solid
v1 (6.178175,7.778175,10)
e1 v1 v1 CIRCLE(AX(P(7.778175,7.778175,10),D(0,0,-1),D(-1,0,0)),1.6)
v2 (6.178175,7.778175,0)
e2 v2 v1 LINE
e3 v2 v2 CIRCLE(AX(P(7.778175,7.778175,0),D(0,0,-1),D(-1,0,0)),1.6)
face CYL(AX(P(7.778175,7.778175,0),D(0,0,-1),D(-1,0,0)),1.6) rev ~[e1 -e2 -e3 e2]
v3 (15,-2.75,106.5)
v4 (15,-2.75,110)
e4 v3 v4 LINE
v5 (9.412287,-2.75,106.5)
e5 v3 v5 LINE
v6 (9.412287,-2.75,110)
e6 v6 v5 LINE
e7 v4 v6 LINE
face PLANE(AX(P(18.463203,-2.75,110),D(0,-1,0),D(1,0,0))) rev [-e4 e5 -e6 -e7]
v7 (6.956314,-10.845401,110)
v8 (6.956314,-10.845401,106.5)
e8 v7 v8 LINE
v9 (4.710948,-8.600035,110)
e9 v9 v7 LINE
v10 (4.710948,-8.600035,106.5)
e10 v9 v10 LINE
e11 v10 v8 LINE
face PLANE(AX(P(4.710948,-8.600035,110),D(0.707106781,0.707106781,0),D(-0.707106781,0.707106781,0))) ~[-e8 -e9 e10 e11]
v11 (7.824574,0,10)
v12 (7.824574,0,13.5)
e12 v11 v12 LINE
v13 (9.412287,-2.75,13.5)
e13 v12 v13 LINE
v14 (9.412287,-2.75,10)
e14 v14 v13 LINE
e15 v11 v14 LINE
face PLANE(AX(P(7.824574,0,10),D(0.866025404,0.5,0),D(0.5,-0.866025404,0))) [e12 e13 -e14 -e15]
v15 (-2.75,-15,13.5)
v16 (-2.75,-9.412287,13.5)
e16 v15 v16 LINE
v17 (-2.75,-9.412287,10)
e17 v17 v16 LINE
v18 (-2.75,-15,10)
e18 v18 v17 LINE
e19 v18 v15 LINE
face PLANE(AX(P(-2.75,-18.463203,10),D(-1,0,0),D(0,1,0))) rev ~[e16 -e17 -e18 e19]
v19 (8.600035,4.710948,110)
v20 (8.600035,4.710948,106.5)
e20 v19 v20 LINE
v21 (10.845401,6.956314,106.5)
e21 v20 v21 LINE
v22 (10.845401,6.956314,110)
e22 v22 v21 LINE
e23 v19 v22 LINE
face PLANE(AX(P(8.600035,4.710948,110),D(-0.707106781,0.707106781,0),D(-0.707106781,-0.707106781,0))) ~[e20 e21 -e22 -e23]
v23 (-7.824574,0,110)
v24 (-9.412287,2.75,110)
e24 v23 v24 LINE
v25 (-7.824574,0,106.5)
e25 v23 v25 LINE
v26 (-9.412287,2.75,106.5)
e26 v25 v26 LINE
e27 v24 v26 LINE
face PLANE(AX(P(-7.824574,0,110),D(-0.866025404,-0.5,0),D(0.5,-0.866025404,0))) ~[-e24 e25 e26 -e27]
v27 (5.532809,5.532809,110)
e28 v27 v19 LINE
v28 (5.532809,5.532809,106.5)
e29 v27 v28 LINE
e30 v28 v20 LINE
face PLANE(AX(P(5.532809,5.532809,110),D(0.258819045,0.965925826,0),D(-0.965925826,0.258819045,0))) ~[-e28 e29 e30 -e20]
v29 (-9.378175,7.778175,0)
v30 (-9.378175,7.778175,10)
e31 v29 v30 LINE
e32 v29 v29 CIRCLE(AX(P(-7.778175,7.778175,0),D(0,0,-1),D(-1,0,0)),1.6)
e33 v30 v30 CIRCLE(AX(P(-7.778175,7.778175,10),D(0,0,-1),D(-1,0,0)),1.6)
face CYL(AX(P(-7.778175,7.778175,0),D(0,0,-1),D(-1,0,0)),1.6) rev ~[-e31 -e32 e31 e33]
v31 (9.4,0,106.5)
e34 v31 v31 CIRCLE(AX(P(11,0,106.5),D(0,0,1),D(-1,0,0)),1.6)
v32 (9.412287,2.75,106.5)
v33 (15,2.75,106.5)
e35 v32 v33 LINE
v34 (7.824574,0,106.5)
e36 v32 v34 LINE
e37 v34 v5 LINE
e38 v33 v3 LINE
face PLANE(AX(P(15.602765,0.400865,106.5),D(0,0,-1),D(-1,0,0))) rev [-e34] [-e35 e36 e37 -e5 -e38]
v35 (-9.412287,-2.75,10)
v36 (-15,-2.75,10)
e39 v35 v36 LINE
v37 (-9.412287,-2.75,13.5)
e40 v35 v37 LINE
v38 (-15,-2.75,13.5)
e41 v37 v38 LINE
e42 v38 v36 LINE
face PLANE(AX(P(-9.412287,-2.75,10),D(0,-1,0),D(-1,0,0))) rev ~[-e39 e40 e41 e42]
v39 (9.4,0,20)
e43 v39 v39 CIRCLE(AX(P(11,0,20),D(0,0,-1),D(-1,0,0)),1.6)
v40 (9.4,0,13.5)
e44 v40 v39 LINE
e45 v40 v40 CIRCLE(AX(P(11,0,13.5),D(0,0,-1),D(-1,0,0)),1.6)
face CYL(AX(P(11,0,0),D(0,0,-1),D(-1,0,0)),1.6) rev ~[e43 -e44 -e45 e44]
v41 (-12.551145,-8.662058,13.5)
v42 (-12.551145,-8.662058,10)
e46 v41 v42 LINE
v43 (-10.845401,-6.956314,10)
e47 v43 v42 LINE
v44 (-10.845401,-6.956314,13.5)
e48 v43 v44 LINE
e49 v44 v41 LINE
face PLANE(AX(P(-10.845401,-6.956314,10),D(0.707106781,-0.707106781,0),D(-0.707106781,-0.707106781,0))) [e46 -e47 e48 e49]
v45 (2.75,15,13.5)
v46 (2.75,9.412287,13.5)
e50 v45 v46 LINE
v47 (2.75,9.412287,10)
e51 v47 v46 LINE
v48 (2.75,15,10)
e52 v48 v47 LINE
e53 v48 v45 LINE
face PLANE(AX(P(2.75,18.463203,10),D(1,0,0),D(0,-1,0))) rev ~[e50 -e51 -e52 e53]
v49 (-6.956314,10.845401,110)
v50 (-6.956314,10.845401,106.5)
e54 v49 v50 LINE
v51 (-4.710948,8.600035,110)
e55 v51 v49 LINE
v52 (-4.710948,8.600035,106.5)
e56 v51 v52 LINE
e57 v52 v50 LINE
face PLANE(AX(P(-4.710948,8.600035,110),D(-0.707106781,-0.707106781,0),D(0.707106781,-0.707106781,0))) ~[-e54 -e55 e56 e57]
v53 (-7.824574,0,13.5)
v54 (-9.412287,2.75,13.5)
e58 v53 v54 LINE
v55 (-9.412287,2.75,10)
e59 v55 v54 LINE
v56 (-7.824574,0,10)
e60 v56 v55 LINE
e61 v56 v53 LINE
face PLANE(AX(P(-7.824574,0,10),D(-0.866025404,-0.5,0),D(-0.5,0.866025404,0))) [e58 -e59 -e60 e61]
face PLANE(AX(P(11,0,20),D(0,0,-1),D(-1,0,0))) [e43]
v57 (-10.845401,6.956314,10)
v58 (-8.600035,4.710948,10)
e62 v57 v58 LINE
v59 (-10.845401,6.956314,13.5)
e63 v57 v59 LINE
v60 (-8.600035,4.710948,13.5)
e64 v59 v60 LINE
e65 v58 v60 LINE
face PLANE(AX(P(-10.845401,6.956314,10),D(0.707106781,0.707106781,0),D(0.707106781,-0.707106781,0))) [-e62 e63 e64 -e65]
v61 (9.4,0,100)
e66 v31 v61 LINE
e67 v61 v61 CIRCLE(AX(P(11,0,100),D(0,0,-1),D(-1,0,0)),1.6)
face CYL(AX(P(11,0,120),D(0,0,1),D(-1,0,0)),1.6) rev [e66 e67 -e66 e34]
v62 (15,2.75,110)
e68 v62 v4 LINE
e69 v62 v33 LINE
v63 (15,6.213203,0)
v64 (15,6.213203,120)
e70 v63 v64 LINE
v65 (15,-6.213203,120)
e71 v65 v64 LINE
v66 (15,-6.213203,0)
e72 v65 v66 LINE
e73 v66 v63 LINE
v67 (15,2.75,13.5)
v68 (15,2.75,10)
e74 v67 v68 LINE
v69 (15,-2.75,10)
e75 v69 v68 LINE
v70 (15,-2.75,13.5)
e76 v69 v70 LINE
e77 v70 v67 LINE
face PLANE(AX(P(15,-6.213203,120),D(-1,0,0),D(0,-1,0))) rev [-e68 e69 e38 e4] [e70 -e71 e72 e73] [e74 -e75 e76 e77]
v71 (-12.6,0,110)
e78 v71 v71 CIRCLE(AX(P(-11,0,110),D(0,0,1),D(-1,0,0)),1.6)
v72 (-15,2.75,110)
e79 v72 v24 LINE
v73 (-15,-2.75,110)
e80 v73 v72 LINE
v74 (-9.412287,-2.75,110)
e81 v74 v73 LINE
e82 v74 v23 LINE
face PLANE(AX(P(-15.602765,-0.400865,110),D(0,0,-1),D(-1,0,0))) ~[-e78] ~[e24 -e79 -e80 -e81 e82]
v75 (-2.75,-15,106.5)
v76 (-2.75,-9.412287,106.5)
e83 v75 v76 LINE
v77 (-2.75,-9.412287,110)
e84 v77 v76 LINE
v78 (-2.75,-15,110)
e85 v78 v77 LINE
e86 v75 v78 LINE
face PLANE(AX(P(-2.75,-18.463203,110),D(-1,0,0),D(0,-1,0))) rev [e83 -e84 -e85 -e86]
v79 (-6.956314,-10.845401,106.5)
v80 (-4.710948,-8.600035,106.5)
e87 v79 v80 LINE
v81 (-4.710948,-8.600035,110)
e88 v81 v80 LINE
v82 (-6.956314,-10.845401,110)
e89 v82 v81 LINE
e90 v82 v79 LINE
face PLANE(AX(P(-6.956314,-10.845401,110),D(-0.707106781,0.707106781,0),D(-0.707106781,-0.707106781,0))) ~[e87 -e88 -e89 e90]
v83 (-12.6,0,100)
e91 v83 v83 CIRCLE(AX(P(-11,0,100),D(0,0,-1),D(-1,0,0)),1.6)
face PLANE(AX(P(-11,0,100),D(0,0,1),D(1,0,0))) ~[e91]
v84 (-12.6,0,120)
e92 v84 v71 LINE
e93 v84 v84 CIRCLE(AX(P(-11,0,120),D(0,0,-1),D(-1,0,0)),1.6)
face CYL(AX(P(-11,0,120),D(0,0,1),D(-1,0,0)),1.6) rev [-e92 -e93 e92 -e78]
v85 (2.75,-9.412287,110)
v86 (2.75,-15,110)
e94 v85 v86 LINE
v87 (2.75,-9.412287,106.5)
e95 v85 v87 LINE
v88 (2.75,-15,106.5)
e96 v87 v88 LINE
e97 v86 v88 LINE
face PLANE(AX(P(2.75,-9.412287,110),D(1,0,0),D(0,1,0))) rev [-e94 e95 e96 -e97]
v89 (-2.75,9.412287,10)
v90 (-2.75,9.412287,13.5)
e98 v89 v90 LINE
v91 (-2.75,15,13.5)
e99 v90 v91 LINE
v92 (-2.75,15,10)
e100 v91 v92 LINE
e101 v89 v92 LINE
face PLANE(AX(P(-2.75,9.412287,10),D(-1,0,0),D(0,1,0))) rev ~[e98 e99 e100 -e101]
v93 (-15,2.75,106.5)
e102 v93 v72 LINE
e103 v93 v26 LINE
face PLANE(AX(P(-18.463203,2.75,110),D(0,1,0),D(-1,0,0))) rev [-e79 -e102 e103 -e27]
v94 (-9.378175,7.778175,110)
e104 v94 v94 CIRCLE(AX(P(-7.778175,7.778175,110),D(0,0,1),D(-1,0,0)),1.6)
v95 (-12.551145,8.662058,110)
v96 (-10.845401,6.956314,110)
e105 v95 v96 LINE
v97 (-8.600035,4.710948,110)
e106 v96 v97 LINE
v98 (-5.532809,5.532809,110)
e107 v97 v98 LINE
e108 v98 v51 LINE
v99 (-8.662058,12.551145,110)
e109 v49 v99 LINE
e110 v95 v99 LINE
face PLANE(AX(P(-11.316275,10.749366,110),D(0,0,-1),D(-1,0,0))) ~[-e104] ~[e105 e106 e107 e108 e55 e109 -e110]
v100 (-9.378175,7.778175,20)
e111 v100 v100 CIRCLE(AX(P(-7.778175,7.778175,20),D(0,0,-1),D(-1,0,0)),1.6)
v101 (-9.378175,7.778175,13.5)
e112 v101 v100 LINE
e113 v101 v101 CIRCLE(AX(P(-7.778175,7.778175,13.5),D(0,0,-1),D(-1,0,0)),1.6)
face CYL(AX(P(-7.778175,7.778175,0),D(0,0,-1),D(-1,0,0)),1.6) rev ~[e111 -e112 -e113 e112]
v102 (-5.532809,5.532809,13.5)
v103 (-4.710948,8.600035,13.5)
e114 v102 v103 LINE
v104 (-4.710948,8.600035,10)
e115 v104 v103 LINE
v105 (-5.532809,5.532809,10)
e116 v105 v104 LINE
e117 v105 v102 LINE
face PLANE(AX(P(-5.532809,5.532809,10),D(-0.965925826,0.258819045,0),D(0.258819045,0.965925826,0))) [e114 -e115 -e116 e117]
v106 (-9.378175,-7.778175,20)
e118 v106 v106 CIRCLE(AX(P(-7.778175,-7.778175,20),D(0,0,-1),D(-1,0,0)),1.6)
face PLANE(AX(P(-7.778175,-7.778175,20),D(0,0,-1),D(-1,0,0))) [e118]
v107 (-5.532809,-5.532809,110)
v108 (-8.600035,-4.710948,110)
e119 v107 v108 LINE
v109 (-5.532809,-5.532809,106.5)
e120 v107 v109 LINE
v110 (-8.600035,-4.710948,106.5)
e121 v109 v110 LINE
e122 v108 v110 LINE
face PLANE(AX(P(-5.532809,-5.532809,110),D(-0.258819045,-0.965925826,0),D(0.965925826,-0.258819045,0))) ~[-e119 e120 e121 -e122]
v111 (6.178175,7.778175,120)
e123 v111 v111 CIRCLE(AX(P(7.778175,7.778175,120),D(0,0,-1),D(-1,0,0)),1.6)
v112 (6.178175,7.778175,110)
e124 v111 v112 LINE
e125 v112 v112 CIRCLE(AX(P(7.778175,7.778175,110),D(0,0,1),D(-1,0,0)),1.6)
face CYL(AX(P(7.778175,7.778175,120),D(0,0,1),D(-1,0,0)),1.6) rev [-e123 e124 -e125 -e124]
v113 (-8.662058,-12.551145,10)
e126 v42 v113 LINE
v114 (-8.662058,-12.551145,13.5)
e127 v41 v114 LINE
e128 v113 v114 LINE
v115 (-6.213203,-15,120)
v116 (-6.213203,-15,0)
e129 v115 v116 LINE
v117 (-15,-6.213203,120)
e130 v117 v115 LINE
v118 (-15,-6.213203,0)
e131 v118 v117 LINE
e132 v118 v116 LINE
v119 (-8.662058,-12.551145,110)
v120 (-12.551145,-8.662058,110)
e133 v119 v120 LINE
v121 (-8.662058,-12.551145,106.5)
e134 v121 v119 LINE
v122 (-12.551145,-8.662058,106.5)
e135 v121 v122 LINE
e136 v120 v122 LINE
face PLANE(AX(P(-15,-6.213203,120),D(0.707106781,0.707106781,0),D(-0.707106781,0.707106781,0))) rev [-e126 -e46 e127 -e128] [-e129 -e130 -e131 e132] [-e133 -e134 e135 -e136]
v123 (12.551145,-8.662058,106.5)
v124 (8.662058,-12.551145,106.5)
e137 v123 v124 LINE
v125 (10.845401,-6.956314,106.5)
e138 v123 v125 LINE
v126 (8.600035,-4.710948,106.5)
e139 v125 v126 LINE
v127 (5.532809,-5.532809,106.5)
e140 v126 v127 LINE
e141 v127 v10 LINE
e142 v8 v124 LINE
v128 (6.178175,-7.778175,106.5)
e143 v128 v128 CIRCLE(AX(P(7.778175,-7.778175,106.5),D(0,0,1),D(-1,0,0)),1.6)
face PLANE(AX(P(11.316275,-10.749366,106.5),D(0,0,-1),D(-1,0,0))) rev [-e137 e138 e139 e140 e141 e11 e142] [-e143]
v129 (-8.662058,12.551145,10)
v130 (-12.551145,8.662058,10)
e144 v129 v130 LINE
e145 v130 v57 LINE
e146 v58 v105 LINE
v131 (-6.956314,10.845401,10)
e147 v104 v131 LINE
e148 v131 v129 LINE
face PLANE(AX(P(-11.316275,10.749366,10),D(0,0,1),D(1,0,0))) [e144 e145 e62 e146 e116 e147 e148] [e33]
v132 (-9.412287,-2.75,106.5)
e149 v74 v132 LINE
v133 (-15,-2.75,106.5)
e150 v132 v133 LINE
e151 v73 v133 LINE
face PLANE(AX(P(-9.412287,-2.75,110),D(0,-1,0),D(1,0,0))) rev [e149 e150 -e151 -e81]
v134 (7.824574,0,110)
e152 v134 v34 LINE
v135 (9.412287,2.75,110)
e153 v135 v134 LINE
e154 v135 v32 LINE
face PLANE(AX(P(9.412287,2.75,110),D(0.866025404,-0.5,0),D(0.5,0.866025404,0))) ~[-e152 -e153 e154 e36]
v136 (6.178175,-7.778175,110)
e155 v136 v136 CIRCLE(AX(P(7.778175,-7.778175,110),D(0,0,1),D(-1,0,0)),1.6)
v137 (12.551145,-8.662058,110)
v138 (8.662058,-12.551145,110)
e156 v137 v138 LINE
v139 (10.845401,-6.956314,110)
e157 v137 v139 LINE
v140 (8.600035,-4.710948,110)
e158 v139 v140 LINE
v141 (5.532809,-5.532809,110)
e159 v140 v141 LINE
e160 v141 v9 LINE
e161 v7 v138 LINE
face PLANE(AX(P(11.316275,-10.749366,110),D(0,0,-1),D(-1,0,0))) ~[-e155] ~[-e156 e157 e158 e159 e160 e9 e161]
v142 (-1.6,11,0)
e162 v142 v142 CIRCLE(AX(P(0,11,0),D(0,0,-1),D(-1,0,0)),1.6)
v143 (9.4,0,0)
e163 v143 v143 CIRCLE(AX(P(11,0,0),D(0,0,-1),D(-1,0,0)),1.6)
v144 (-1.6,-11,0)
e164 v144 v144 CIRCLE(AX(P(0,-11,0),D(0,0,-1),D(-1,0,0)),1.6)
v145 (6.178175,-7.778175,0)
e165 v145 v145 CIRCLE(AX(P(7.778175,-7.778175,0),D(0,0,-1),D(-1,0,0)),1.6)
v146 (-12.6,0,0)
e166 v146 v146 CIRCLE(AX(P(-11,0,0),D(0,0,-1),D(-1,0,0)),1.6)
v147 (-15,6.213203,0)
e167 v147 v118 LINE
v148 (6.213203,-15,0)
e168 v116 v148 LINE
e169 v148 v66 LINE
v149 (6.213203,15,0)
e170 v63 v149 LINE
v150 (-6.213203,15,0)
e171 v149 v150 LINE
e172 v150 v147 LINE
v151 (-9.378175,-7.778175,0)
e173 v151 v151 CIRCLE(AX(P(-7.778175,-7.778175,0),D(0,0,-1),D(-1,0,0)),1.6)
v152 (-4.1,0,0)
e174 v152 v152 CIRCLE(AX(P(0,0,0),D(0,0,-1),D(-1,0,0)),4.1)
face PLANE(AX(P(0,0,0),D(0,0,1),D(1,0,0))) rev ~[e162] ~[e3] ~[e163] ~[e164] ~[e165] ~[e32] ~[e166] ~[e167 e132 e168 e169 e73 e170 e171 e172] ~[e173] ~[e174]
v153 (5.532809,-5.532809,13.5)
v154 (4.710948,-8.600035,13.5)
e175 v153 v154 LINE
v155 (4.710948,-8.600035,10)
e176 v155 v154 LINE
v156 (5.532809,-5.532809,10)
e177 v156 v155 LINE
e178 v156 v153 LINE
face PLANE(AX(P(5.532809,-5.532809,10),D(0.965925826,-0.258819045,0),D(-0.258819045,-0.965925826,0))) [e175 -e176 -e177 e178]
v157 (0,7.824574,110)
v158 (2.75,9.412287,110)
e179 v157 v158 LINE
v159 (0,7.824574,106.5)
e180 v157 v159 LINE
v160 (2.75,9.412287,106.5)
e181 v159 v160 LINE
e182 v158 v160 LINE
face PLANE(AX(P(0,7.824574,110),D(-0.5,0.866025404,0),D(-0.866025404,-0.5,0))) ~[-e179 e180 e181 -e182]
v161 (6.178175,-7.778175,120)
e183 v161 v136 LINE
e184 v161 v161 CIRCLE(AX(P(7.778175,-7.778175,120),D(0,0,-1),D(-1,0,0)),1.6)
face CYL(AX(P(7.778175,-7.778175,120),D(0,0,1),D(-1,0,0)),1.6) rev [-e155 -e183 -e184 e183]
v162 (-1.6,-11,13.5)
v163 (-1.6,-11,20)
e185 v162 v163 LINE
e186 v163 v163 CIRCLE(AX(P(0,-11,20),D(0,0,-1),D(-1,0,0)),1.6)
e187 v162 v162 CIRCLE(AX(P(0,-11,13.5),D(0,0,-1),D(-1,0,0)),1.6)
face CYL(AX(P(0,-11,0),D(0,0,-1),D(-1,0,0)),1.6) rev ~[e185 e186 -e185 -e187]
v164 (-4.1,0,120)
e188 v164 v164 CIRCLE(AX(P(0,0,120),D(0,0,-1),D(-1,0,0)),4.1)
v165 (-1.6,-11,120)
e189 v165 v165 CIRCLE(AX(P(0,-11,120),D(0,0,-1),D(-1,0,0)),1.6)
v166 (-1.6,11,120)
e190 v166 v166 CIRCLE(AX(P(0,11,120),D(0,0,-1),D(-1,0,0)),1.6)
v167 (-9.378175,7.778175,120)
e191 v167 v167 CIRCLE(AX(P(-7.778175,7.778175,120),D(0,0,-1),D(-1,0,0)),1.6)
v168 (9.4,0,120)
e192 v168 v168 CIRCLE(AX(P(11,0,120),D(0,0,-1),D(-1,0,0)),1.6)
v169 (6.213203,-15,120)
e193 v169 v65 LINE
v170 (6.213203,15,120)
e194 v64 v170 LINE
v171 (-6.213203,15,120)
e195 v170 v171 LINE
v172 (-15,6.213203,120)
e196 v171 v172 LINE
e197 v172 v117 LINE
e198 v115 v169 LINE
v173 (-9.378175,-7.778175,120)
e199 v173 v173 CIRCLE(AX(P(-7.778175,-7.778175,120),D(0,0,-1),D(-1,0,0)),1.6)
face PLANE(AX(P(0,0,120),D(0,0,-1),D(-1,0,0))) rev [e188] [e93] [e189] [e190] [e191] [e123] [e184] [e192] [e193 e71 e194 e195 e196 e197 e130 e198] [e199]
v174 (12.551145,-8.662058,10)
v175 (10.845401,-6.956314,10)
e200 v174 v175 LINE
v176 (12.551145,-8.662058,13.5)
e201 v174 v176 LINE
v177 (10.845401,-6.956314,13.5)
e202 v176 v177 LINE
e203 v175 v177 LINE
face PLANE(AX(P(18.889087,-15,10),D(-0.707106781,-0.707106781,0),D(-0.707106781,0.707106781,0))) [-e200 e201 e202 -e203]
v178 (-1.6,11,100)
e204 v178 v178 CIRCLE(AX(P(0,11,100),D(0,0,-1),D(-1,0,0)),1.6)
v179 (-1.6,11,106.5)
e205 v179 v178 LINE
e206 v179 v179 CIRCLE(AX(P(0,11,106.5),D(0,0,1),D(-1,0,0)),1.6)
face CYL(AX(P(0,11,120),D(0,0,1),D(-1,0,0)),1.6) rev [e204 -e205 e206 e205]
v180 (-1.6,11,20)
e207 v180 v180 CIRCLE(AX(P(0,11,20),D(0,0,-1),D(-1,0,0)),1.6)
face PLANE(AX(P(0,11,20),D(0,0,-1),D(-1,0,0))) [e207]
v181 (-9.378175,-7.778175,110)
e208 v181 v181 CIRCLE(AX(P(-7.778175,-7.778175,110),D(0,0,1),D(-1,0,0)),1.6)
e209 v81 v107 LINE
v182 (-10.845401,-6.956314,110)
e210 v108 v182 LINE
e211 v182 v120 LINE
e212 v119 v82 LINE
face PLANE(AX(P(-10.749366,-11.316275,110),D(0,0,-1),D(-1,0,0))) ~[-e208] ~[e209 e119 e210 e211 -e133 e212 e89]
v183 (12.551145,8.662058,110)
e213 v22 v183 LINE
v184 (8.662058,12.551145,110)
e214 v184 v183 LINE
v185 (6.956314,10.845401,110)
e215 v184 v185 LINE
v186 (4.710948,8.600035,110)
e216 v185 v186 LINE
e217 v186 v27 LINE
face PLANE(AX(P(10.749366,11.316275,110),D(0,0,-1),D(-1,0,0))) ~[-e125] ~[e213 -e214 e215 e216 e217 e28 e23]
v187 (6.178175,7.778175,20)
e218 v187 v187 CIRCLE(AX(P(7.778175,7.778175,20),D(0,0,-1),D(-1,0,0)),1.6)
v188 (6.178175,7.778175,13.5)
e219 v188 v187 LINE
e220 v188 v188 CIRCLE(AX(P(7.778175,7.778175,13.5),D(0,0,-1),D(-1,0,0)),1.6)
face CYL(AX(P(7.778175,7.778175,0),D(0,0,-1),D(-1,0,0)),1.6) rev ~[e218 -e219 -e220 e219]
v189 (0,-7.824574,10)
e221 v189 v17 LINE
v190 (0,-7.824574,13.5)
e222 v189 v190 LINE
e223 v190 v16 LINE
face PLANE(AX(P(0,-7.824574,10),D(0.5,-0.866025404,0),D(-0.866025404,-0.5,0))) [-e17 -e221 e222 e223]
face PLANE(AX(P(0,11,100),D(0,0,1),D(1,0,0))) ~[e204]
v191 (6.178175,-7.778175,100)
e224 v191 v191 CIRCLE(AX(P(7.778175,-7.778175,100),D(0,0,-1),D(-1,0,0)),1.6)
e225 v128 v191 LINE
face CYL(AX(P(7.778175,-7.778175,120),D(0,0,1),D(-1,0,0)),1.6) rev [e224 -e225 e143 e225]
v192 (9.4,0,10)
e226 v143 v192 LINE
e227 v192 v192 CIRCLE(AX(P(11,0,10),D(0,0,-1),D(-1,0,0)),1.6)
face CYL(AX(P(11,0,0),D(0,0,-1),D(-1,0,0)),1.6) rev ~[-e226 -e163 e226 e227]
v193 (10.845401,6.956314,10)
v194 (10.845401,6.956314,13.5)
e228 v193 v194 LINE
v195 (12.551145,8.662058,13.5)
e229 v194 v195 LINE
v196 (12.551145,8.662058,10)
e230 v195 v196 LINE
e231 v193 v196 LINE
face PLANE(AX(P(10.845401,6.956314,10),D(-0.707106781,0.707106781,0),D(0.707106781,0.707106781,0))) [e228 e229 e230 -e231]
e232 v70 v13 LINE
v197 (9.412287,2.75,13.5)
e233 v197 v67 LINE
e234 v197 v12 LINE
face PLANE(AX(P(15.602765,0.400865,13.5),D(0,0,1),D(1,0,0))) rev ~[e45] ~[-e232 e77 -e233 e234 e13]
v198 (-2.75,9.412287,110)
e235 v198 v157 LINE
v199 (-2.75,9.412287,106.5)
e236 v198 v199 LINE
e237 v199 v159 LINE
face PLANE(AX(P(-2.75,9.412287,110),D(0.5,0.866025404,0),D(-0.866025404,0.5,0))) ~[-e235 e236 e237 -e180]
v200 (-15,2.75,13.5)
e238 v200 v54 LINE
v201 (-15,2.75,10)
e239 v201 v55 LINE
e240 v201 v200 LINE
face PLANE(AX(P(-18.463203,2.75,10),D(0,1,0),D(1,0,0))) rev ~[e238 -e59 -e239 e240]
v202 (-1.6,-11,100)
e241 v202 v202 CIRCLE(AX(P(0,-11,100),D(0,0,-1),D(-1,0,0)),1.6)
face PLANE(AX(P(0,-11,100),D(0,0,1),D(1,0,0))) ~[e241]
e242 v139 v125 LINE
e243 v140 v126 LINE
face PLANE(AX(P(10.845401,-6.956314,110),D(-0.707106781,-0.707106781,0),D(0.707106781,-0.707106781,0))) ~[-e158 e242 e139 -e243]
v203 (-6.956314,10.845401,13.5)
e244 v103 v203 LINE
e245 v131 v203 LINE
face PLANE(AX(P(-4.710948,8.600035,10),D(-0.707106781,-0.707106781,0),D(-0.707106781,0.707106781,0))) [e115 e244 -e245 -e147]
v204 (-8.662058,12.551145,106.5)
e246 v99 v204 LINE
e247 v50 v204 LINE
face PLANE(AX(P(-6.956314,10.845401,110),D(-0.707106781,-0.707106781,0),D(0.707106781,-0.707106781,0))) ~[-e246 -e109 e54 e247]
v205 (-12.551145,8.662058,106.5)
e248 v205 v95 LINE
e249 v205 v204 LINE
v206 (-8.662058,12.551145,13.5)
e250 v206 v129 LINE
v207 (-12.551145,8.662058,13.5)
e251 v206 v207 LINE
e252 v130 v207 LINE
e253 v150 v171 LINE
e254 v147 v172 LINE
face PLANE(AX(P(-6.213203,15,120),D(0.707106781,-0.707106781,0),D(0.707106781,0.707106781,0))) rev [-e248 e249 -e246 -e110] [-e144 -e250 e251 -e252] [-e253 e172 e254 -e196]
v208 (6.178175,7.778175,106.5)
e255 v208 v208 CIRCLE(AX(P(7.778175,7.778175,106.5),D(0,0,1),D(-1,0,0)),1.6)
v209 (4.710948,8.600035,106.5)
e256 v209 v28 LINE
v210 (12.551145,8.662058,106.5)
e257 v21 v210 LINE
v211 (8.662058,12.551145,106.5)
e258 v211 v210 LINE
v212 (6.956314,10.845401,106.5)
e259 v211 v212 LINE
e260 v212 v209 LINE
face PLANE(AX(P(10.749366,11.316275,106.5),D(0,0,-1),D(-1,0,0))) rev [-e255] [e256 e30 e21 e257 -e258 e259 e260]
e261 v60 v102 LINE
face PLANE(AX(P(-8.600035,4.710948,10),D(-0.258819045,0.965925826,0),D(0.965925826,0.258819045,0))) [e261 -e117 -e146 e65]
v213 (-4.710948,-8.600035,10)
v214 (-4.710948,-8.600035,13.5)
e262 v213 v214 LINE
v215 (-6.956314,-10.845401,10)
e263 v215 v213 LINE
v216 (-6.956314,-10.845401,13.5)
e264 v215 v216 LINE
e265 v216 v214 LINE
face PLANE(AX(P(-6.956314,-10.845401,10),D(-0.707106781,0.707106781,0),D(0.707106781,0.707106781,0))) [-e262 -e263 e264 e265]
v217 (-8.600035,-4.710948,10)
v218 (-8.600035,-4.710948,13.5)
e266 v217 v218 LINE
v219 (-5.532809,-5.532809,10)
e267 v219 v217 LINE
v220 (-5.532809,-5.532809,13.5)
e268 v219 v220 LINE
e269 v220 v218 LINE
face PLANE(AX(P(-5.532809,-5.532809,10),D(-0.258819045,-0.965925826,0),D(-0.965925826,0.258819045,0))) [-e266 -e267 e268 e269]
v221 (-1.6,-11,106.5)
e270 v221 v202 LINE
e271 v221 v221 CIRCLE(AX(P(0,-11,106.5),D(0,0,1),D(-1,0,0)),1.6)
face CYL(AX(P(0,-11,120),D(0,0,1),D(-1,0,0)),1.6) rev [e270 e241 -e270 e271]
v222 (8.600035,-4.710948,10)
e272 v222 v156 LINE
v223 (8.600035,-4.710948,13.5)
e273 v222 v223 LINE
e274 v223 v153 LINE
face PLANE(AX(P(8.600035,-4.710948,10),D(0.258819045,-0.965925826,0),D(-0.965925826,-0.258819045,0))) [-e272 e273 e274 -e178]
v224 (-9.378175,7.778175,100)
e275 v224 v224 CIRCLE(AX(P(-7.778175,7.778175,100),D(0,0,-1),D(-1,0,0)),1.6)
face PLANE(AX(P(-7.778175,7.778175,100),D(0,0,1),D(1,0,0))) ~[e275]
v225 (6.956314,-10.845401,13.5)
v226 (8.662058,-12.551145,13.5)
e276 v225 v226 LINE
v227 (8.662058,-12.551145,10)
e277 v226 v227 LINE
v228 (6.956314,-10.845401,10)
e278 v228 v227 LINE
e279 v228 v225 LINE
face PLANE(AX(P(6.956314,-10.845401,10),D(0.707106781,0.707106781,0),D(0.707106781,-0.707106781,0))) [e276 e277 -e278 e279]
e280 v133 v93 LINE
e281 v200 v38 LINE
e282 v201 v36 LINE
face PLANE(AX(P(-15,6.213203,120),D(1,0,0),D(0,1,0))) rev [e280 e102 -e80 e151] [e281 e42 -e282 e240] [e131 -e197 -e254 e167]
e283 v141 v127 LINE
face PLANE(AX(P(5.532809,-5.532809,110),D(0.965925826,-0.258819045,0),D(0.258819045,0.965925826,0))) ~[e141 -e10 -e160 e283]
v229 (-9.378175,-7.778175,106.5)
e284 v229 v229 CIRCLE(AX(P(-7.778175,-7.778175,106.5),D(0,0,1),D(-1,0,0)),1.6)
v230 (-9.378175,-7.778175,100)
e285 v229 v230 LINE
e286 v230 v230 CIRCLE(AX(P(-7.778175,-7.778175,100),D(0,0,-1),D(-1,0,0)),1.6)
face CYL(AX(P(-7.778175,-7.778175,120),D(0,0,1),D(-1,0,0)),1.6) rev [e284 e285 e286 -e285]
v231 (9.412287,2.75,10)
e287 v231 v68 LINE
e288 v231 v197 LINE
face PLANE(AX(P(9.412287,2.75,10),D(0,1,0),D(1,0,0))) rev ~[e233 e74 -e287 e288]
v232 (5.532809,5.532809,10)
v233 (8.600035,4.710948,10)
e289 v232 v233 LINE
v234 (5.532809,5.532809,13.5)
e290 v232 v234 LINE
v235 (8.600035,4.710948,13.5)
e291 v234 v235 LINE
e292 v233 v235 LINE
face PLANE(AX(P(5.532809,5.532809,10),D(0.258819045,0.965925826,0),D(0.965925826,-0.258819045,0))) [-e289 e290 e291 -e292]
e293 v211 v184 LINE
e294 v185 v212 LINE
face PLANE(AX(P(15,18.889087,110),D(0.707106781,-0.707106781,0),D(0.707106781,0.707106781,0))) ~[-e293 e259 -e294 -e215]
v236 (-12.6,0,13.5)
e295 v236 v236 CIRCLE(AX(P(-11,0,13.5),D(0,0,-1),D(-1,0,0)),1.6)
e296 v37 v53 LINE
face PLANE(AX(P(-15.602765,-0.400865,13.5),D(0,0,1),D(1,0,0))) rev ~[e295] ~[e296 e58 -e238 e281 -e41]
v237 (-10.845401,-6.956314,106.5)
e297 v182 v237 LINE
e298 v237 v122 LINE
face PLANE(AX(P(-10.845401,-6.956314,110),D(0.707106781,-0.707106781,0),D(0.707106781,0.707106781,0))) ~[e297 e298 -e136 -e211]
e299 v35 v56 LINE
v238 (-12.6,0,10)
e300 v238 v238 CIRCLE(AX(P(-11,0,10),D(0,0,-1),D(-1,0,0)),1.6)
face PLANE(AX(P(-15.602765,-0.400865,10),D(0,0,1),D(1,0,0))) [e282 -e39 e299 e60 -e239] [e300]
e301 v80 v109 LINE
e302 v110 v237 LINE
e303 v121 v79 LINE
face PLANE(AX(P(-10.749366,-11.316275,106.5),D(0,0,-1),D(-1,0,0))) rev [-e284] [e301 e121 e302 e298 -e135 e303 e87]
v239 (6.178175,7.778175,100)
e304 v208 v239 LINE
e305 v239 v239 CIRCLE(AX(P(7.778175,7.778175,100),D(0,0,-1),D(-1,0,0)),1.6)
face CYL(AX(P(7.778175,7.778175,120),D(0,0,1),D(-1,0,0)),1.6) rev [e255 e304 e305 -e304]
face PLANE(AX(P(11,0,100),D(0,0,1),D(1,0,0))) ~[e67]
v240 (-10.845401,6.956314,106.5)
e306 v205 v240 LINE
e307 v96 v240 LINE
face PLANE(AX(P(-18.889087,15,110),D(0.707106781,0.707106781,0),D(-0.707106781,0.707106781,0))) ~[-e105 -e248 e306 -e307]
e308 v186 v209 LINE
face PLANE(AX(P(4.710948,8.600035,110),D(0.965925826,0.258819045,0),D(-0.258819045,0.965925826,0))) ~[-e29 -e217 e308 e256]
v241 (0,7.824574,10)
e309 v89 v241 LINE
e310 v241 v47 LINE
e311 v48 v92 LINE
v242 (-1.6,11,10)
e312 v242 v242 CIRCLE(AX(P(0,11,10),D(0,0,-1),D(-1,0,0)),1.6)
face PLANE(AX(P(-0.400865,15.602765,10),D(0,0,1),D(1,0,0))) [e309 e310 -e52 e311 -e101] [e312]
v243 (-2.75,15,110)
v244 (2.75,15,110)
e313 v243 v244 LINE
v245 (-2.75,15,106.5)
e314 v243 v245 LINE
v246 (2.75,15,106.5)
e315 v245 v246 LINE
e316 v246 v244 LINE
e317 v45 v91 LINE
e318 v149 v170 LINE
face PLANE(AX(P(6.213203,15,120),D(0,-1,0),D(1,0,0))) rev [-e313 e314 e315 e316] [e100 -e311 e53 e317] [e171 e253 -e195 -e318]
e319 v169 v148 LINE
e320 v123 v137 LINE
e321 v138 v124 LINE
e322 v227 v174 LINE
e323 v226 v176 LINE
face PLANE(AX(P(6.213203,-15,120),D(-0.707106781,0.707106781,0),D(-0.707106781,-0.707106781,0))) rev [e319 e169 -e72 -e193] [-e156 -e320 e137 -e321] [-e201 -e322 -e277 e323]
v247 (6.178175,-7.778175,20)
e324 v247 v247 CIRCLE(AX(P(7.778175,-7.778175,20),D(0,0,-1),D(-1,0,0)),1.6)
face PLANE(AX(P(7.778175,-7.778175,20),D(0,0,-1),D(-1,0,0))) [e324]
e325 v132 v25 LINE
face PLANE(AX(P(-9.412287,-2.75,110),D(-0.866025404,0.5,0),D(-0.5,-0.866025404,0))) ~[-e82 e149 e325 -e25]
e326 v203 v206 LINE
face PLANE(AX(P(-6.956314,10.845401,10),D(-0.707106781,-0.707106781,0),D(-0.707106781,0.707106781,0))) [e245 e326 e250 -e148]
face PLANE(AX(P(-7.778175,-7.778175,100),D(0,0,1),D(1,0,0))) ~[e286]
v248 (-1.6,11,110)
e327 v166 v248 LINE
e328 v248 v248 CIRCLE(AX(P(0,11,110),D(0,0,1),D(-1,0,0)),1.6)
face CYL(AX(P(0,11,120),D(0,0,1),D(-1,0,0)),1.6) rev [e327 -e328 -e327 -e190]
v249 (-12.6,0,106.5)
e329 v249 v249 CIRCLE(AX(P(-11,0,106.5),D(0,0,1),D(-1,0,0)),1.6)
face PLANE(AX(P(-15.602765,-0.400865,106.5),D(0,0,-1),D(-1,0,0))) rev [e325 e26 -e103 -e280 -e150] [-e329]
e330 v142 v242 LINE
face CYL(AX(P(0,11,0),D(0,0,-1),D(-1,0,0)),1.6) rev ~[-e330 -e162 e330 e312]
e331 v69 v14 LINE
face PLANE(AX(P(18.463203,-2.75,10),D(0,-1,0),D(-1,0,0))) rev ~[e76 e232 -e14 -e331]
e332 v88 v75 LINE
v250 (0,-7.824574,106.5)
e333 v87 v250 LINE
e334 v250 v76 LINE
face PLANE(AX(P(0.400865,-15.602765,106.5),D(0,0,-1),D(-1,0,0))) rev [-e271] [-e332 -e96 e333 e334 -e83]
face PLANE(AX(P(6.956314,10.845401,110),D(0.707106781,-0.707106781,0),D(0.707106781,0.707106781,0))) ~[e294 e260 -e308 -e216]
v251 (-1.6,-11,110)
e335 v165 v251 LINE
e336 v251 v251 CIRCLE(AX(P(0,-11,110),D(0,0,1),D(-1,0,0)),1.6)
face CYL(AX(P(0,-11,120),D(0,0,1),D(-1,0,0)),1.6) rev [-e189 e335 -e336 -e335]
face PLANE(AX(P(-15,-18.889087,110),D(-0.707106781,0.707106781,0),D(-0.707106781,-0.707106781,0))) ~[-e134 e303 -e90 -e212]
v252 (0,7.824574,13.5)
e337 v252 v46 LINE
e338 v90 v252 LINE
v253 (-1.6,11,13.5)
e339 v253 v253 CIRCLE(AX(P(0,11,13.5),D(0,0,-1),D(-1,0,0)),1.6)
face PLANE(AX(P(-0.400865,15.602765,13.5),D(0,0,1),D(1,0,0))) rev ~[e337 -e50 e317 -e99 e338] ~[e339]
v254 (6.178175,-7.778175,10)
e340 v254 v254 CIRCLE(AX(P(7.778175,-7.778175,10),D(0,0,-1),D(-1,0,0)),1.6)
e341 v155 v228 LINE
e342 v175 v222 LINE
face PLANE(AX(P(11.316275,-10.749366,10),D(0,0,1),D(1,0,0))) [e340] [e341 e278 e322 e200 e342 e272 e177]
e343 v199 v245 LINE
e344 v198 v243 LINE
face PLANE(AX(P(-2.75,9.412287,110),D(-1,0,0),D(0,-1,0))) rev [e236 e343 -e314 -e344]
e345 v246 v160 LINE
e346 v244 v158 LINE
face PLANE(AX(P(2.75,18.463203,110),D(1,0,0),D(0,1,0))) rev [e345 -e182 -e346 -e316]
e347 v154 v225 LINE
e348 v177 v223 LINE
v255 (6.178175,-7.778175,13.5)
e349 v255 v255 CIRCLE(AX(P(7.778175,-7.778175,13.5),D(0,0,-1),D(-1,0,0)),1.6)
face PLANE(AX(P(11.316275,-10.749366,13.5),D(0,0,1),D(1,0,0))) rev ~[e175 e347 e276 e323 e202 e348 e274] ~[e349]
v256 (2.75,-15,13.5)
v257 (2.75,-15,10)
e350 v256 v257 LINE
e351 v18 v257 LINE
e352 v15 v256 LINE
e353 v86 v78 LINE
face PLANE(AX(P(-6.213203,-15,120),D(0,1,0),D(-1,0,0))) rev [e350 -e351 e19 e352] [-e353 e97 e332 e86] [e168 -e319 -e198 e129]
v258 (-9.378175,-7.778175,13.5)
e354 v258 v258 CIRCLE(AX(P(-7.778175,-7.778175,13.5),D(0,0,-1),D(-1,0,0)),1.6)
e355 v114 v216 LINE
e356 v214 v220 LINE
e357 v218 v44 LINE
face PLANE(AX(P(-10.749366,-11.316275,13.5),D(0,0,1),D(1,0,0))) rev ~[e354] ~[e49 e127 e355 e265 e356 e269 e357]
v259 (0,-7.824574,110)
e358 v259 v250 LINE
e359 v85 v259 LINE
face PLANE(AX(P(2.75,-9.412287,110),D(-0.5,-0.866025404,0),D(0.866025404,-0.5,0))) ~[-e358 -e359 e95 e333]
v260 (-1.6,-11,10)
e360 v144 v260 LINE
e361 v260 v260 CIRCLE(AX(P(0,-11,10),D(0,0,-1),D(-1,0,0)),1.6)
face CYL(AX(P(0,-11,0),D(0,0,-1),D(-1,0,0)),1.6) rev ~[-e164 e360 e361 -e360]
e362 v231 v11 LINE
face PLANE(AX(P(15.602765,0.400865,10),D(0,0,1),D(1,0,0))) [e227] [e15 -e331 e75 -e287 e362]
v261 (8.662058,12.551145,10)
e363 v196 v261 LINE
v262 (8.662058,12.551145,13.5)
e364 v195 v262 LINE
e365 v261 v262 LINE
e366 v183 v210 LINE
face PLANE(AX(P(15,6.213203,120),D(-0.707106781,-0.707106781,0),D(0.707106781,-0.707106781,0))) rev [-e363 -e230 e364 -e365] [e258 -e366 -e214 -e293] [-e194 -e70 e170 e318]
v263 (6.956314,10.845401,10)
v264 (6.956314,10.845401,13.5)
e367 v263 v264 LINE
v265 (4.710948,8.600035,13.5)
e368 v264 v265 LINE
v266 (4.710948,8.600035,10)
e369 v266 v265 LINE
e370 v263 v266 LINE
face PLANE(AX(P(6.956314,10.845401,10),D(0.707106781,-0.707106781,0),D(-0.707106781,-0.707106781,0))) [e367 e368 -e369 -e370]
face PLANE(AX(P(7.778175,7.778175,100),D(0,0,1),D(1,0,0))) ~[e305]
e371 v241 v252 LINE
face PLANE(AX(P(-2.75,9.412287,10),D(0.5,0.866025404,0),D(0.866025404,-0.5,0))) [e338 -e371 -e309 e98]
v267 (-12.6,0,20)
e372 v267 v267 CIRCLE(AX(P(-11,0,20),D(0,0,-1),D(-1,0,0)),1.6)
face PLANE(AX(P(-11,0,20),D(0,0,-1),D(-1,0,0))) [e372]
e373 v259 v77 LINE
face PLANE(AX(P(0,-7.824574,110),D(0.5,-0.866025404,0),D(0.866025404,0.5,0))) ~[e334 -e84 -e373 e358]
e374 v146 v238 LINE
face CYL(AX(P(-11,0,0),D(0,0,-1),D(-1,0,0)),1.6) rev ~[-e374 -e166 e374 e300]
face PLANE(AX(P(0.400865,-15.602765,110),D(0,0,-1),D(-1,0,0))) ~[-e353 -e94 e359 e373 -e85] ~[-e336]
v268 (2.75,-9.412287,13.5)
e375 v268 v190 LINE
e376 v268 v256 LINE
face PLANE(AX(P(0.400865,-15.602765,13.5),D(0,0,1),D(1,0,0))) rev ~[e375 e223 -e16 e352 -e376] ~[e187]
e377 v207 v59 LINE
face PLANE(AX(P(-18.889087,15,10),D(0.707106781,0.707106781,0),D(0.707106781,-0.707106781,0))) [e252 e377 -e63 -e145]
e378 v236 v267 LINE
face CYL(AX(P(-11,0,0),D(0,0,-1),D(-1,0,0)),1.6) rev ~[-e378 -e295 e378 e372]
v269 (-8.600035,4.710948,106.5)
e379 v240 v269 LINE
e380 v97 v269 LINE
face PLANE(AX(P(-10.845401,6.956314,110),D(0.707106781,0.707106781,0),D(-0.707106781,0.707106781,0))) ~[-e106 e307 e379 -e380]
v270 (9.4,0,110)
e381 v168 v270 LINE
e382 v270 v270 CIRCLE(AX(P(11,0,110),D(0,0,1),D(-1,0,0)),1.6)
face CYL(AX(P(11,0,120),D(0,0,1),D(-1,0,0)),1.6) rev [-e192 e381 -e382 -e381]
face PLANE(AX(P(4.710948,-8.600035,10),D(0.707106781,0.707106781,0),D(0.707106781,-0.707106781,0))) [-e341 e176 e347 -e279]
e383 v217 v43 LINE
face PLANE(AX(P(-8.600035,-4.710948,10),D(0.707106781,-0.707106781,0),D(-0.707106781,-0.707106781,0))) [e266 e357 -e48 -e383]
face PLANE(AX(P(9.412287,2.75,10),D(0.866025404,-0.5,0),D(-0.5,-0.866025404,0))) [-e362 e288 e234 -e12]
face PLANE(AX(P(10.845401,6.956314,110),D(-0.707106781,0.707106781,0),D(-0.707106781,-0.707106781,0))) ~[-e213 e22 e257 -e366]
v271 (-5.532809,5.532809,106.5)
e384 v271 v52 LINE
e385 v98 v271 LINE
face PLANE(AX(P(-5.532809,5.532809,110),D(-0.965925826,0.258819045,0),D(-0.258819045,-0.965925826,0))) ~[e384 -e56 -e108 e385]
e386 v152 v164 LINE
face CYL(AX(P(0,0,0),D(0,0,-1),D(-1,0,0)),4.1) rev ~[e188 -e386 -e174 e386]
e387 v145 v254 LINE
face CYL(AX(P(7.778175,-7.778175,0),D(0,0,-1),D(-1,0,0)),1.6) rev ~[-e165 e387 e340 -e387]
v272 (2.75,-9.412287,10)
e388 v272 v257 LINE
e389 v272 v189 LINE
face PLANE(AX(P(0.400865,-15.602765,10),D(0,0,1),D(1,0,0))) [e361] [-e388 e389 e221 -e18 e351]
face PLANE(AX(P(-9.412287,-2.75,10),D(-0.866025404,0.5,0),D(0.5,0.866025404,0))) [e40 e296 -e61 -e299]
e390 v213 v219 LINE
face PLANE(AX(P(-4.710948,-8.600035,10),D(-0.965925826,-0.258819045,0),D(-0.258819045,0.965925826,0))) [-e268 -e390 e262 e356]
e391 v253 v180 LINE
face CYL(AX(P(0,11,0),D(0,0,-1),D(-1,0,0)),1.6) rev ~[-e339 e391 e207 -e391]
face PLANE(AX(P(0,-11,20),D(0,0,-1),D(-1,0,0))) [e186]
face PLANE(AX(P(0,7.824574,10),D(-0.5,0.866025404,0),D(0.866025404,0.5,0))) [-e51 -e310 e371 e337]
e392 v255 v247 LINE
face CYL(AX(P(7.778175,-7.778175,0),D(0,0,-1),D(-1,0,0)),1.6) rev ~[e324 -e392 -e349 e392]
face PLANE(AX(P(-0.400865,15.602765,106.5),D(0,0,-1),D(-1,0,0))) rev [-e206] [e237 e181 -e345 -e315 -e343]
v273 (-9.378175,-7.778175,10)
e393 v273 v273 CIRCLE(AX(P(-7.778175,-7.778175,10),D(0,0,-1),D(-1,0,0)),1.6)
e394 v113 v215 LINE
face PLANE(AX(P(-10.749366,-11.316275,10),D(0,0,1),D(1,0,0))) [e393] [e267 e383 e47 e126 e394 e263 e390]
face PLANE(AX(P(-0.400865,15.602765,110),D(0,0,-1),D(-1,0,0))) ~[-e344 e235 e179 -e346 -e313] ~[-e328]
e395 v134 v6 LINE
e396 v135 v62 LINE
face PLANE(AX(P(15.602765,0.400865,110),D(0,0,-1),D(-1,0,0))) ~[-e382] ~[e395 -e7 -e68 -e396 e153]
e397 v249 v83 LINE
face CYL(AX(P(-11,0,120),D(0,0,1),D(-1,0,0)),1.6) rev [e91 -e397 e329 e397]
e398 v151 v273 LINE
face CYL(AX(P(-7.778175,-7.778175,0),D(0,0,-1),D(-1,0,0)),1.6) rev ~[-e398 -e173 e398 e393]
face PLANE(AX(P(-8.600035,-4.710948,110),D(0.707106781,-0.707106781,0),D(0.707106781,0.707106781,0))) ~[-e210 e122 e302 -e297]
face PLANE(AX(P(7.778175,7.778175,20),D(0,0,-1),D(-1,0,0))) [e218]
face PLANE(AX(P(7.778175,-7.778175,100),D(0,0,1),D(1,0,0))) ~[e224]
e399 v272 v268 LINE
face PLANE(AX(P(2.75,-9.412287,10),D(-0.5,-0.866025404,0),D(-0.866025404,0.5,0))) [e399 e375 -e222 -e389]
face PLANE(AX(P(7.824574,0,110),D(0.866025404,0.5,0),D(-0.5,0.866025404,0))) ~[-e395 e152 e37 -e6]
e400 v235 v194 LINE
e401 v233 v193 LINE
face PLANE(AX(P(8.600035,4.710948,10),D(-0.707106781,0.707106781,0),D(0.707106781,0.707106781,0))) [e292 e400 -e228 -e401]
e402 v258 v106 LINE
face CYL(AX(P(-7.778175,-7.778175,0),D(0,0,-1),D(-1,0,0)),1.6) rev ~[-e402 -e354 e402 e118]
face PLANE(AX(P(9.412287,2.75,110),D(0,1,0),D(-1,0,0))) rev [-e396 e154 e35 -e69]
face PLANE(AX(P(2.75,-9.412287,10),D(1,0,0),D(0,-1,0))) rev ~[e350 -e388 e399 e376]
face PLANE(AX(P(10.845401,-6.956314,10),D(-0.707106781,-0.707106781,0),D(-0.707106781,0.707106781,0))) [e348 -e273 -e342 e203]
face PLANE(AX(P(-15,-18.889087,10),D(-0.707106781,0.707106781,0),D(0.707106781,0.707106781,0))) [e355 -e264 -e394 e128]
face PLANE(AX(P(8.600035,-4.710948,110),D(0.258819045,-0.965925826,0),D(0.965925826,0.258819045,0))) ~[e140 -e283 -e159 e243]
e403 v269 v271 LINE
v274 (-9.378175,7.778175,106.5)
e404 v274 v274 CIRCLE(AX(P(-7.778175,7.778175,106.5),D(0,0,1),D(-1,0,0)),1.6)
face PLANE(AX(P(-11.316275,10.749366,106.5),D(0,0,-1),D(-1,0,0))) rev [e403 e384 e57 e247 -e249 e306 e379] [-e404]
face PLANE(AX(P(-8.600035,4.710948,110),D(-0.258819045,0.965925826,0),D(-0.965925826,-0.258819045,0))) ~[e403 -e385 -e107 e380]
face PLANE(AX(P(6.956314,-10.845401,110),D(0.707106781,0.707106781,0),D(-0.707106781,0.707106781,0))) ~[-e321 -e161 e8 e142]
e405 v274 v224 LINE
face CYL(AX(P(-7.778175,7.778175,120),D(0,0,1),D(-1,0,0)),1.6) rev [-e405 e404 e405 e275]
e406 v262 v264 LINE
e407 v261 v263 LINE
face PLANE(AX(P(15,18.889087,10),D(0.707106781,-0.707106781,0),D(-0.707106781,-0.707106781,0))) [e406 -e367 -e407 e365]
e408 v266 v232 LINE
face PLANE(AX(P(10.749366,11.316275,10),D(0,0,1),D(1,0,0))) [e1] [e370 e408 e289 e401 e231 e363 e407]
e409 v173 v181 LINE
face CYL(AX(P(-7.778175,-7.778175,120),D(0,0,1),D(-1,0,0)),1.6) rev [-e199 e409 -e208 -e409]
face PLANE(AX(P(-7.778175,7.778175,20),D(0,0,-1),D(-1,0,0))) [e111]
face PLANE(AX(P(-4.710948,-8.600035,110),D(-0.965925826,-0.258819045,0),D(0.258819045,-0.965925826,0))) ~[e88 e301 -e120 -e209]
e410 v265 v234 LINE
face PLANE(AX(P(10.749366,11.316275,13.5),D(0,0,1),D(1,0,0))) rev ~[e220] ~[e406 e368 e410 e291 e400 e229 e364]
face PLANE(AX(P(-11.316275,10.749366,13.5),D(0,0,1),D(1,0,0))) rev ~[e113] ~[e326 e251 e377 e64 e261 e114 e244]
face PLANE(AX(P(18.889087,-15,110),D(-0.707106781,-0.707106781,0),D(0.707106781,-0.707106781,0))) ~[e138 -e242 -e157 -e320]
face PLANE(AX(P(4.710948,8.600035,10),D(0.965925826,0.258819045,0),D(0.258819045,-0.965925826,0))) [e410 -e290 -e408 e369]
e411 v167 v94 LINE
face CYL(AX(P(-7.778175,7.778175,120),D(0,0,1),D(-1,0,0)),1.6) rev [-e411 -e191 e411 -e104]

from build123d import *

# Parameters (mm, degrees)
SALIENTE_EXTRUIR1_DEPTH = 60
CROQUIS2_R              = 1.6
CORTAR_EXTRUIR1_DEPTH   = 20
CORTAR_EXTRUIR2_START   = -10
CORTAR_EXTRUIR2_DEPTH   = 3.5
CROQUIS4_R              = 4.1
CORTAR_EXTRUIR3_DEPTH   = 122.86057607


with BuildPart() as part:
    # Croquis1 → Saliente-Extruir1 (new body)
    with BuildSketch(Plane.XY):
        Polygon((15, -6.213203436), (15, 6.213203436), (6.213203436, 15), (-6.213203436, 15), (-15, 6.213203436), (-15, -6.213203436), (-6.213203436, -15), (6.213203436, -15), align=None)
    saliente_extruir1 = extrude(amount=SALIENTE_EXTRUIR1_DEPTH)

    # Croquis2 → Cortar-Extruir1 (cut)
    with BuildSketch(Plane(origin=(0, 0, 0), x_dir=(-1, 0, 0), z_dir=(0, 0, -1))):
        with Locations((0, 11)):
            Circle(CROQUIS2_R)
        with Locations((7.778174593, 7.778174593)):
            Circle(CROQUIS2_R)
        with Locations((11, 0)):
            Circle(CROQUIS2_R)
        with Locations((7.778174593, -7.778174593)):
            Circle(CROQUIS2_R)
        with Locations((0, -11)):
            Circle(CROQUIS2_R)
        with Locations((-7.778174593, -7.778174593)):
            Circle(CROQUIS2_R)
        with Locations((-11, 0)):
            Circle(CROQUIS2_R)
        with Locations((-7.778174593, 7.778174593)):
            Circle(CROQUIS2_R)
    cortar_extruir1 = extrude(amount=-CORTAR_EXTRUIR1_DEPTH, mode=Mode.SUBTRACT)

    # Croquis3 → Cortar-Extruir2 (cut)
    with BuildSketch(Plane(origin=(0, 0, 0), x_dir=(-1, 0, 0), z_dir=(0, 0, -1)).offset(CORTAR_EXTRUIR2_START)):
        Polygon((-2.75, 12.58771324), (-2.75, 18.463203436), (2.75, 23.963203436), (2.75, 12.58771324), (2.75, 9.41228676), (0, 7.824573519), (-2.75, 9.41228676), align=None)
        Polygon((6.956313744, 10.84540104), (11.110912703, 15), (18.889087297, 15), (10.84540104, 6.956313744), (8.600035443, 4.710948146), (5.532808996, 5.532808996), (4.710948146, 8.600035443), align=None)
        Polygon((12.58771324, 2.75), (18.463203436, 2.75), (23.963203436, -2.75), (12.58771324, -2.75), (9.41228676, -2.75), (7.824573519, 0), (9.41228676, 2.75), align=None)
        Polygon((10.84540104, -6.956313744), (15, -11.110912703), (15, -18.889087297), (6.956313744, -10.84540104), (4.710948146, -8.600035443), (5.532808996, -5.532808996), (8.600035443, -4.710948146), align=None)
        Polygon((2.75, -12.58771324), (2.75, -18.463203436), (-2.75, -23.963203436), (-2.75, -12.58771324), (-2.75, -9.41228676), (0, -7.824573519), (2.75, -9.41228676), align=None)
        Polygon((-6.956313744, -10.84540104), (-11.110912703, -15), (-18.889087297, -15), (-10.84540104, -6.956313744), (-8.600035443, -4.710948146), (-5.532808995, -5.532808996), (-4.710948146, -8.600035443), align=None)
        Polygon((-12.58771324, -2.75), (-18.463203436, -2.75), (-23.963203436, 2.75), (-12.58771324, 2.75), (-9.41228676, 2.75), (-7.824573519, 0), (-9.41228676, -2.75), align=None)
        Polygon((-10.84540104, 6.956313744), (-15, 11.110912703), (-15, 18.889087297), (-6.956313744, 10.84540104), (-4.710948146, 8.600035443), (-5.532808996, 5.532808996), (-8.600035443, 4.710948146), align=None)
    cortar_extruir2 = extrude(amount=-CORTAR_EXTRUIR2_DEPTH, mode=Mode.SUBTRACT)

    # Simetría1: Saliente-Extruir1, Cortar-Extruir1, Cortar-Extruir2 across plane
    add(saliente_extruir1.mirror(Plane.XY.offset(60)))
    add(cortar_extruir1.mirror(Plane.XY.offset(60)), mode=Mode.SUBTRACT)
    add(cortar_extruir2.mirror(Plane.XY.offset(60)), mode=Mode.SUBTRACT)

    # Croquis4 → Cortar-Extruir3 (cut, through all)
    with BuildSketch(Plane(origin=(0, 0, 0), x_dir=(-1, 0, 0), z_dir=(0, 0, -1))):
        Circle(CROQUIS4_R)
    extrude(amount=-CORTAR_EXTRUIR3_DEPTH, mode=Mode.SUBTRACT)


solid = part.part
